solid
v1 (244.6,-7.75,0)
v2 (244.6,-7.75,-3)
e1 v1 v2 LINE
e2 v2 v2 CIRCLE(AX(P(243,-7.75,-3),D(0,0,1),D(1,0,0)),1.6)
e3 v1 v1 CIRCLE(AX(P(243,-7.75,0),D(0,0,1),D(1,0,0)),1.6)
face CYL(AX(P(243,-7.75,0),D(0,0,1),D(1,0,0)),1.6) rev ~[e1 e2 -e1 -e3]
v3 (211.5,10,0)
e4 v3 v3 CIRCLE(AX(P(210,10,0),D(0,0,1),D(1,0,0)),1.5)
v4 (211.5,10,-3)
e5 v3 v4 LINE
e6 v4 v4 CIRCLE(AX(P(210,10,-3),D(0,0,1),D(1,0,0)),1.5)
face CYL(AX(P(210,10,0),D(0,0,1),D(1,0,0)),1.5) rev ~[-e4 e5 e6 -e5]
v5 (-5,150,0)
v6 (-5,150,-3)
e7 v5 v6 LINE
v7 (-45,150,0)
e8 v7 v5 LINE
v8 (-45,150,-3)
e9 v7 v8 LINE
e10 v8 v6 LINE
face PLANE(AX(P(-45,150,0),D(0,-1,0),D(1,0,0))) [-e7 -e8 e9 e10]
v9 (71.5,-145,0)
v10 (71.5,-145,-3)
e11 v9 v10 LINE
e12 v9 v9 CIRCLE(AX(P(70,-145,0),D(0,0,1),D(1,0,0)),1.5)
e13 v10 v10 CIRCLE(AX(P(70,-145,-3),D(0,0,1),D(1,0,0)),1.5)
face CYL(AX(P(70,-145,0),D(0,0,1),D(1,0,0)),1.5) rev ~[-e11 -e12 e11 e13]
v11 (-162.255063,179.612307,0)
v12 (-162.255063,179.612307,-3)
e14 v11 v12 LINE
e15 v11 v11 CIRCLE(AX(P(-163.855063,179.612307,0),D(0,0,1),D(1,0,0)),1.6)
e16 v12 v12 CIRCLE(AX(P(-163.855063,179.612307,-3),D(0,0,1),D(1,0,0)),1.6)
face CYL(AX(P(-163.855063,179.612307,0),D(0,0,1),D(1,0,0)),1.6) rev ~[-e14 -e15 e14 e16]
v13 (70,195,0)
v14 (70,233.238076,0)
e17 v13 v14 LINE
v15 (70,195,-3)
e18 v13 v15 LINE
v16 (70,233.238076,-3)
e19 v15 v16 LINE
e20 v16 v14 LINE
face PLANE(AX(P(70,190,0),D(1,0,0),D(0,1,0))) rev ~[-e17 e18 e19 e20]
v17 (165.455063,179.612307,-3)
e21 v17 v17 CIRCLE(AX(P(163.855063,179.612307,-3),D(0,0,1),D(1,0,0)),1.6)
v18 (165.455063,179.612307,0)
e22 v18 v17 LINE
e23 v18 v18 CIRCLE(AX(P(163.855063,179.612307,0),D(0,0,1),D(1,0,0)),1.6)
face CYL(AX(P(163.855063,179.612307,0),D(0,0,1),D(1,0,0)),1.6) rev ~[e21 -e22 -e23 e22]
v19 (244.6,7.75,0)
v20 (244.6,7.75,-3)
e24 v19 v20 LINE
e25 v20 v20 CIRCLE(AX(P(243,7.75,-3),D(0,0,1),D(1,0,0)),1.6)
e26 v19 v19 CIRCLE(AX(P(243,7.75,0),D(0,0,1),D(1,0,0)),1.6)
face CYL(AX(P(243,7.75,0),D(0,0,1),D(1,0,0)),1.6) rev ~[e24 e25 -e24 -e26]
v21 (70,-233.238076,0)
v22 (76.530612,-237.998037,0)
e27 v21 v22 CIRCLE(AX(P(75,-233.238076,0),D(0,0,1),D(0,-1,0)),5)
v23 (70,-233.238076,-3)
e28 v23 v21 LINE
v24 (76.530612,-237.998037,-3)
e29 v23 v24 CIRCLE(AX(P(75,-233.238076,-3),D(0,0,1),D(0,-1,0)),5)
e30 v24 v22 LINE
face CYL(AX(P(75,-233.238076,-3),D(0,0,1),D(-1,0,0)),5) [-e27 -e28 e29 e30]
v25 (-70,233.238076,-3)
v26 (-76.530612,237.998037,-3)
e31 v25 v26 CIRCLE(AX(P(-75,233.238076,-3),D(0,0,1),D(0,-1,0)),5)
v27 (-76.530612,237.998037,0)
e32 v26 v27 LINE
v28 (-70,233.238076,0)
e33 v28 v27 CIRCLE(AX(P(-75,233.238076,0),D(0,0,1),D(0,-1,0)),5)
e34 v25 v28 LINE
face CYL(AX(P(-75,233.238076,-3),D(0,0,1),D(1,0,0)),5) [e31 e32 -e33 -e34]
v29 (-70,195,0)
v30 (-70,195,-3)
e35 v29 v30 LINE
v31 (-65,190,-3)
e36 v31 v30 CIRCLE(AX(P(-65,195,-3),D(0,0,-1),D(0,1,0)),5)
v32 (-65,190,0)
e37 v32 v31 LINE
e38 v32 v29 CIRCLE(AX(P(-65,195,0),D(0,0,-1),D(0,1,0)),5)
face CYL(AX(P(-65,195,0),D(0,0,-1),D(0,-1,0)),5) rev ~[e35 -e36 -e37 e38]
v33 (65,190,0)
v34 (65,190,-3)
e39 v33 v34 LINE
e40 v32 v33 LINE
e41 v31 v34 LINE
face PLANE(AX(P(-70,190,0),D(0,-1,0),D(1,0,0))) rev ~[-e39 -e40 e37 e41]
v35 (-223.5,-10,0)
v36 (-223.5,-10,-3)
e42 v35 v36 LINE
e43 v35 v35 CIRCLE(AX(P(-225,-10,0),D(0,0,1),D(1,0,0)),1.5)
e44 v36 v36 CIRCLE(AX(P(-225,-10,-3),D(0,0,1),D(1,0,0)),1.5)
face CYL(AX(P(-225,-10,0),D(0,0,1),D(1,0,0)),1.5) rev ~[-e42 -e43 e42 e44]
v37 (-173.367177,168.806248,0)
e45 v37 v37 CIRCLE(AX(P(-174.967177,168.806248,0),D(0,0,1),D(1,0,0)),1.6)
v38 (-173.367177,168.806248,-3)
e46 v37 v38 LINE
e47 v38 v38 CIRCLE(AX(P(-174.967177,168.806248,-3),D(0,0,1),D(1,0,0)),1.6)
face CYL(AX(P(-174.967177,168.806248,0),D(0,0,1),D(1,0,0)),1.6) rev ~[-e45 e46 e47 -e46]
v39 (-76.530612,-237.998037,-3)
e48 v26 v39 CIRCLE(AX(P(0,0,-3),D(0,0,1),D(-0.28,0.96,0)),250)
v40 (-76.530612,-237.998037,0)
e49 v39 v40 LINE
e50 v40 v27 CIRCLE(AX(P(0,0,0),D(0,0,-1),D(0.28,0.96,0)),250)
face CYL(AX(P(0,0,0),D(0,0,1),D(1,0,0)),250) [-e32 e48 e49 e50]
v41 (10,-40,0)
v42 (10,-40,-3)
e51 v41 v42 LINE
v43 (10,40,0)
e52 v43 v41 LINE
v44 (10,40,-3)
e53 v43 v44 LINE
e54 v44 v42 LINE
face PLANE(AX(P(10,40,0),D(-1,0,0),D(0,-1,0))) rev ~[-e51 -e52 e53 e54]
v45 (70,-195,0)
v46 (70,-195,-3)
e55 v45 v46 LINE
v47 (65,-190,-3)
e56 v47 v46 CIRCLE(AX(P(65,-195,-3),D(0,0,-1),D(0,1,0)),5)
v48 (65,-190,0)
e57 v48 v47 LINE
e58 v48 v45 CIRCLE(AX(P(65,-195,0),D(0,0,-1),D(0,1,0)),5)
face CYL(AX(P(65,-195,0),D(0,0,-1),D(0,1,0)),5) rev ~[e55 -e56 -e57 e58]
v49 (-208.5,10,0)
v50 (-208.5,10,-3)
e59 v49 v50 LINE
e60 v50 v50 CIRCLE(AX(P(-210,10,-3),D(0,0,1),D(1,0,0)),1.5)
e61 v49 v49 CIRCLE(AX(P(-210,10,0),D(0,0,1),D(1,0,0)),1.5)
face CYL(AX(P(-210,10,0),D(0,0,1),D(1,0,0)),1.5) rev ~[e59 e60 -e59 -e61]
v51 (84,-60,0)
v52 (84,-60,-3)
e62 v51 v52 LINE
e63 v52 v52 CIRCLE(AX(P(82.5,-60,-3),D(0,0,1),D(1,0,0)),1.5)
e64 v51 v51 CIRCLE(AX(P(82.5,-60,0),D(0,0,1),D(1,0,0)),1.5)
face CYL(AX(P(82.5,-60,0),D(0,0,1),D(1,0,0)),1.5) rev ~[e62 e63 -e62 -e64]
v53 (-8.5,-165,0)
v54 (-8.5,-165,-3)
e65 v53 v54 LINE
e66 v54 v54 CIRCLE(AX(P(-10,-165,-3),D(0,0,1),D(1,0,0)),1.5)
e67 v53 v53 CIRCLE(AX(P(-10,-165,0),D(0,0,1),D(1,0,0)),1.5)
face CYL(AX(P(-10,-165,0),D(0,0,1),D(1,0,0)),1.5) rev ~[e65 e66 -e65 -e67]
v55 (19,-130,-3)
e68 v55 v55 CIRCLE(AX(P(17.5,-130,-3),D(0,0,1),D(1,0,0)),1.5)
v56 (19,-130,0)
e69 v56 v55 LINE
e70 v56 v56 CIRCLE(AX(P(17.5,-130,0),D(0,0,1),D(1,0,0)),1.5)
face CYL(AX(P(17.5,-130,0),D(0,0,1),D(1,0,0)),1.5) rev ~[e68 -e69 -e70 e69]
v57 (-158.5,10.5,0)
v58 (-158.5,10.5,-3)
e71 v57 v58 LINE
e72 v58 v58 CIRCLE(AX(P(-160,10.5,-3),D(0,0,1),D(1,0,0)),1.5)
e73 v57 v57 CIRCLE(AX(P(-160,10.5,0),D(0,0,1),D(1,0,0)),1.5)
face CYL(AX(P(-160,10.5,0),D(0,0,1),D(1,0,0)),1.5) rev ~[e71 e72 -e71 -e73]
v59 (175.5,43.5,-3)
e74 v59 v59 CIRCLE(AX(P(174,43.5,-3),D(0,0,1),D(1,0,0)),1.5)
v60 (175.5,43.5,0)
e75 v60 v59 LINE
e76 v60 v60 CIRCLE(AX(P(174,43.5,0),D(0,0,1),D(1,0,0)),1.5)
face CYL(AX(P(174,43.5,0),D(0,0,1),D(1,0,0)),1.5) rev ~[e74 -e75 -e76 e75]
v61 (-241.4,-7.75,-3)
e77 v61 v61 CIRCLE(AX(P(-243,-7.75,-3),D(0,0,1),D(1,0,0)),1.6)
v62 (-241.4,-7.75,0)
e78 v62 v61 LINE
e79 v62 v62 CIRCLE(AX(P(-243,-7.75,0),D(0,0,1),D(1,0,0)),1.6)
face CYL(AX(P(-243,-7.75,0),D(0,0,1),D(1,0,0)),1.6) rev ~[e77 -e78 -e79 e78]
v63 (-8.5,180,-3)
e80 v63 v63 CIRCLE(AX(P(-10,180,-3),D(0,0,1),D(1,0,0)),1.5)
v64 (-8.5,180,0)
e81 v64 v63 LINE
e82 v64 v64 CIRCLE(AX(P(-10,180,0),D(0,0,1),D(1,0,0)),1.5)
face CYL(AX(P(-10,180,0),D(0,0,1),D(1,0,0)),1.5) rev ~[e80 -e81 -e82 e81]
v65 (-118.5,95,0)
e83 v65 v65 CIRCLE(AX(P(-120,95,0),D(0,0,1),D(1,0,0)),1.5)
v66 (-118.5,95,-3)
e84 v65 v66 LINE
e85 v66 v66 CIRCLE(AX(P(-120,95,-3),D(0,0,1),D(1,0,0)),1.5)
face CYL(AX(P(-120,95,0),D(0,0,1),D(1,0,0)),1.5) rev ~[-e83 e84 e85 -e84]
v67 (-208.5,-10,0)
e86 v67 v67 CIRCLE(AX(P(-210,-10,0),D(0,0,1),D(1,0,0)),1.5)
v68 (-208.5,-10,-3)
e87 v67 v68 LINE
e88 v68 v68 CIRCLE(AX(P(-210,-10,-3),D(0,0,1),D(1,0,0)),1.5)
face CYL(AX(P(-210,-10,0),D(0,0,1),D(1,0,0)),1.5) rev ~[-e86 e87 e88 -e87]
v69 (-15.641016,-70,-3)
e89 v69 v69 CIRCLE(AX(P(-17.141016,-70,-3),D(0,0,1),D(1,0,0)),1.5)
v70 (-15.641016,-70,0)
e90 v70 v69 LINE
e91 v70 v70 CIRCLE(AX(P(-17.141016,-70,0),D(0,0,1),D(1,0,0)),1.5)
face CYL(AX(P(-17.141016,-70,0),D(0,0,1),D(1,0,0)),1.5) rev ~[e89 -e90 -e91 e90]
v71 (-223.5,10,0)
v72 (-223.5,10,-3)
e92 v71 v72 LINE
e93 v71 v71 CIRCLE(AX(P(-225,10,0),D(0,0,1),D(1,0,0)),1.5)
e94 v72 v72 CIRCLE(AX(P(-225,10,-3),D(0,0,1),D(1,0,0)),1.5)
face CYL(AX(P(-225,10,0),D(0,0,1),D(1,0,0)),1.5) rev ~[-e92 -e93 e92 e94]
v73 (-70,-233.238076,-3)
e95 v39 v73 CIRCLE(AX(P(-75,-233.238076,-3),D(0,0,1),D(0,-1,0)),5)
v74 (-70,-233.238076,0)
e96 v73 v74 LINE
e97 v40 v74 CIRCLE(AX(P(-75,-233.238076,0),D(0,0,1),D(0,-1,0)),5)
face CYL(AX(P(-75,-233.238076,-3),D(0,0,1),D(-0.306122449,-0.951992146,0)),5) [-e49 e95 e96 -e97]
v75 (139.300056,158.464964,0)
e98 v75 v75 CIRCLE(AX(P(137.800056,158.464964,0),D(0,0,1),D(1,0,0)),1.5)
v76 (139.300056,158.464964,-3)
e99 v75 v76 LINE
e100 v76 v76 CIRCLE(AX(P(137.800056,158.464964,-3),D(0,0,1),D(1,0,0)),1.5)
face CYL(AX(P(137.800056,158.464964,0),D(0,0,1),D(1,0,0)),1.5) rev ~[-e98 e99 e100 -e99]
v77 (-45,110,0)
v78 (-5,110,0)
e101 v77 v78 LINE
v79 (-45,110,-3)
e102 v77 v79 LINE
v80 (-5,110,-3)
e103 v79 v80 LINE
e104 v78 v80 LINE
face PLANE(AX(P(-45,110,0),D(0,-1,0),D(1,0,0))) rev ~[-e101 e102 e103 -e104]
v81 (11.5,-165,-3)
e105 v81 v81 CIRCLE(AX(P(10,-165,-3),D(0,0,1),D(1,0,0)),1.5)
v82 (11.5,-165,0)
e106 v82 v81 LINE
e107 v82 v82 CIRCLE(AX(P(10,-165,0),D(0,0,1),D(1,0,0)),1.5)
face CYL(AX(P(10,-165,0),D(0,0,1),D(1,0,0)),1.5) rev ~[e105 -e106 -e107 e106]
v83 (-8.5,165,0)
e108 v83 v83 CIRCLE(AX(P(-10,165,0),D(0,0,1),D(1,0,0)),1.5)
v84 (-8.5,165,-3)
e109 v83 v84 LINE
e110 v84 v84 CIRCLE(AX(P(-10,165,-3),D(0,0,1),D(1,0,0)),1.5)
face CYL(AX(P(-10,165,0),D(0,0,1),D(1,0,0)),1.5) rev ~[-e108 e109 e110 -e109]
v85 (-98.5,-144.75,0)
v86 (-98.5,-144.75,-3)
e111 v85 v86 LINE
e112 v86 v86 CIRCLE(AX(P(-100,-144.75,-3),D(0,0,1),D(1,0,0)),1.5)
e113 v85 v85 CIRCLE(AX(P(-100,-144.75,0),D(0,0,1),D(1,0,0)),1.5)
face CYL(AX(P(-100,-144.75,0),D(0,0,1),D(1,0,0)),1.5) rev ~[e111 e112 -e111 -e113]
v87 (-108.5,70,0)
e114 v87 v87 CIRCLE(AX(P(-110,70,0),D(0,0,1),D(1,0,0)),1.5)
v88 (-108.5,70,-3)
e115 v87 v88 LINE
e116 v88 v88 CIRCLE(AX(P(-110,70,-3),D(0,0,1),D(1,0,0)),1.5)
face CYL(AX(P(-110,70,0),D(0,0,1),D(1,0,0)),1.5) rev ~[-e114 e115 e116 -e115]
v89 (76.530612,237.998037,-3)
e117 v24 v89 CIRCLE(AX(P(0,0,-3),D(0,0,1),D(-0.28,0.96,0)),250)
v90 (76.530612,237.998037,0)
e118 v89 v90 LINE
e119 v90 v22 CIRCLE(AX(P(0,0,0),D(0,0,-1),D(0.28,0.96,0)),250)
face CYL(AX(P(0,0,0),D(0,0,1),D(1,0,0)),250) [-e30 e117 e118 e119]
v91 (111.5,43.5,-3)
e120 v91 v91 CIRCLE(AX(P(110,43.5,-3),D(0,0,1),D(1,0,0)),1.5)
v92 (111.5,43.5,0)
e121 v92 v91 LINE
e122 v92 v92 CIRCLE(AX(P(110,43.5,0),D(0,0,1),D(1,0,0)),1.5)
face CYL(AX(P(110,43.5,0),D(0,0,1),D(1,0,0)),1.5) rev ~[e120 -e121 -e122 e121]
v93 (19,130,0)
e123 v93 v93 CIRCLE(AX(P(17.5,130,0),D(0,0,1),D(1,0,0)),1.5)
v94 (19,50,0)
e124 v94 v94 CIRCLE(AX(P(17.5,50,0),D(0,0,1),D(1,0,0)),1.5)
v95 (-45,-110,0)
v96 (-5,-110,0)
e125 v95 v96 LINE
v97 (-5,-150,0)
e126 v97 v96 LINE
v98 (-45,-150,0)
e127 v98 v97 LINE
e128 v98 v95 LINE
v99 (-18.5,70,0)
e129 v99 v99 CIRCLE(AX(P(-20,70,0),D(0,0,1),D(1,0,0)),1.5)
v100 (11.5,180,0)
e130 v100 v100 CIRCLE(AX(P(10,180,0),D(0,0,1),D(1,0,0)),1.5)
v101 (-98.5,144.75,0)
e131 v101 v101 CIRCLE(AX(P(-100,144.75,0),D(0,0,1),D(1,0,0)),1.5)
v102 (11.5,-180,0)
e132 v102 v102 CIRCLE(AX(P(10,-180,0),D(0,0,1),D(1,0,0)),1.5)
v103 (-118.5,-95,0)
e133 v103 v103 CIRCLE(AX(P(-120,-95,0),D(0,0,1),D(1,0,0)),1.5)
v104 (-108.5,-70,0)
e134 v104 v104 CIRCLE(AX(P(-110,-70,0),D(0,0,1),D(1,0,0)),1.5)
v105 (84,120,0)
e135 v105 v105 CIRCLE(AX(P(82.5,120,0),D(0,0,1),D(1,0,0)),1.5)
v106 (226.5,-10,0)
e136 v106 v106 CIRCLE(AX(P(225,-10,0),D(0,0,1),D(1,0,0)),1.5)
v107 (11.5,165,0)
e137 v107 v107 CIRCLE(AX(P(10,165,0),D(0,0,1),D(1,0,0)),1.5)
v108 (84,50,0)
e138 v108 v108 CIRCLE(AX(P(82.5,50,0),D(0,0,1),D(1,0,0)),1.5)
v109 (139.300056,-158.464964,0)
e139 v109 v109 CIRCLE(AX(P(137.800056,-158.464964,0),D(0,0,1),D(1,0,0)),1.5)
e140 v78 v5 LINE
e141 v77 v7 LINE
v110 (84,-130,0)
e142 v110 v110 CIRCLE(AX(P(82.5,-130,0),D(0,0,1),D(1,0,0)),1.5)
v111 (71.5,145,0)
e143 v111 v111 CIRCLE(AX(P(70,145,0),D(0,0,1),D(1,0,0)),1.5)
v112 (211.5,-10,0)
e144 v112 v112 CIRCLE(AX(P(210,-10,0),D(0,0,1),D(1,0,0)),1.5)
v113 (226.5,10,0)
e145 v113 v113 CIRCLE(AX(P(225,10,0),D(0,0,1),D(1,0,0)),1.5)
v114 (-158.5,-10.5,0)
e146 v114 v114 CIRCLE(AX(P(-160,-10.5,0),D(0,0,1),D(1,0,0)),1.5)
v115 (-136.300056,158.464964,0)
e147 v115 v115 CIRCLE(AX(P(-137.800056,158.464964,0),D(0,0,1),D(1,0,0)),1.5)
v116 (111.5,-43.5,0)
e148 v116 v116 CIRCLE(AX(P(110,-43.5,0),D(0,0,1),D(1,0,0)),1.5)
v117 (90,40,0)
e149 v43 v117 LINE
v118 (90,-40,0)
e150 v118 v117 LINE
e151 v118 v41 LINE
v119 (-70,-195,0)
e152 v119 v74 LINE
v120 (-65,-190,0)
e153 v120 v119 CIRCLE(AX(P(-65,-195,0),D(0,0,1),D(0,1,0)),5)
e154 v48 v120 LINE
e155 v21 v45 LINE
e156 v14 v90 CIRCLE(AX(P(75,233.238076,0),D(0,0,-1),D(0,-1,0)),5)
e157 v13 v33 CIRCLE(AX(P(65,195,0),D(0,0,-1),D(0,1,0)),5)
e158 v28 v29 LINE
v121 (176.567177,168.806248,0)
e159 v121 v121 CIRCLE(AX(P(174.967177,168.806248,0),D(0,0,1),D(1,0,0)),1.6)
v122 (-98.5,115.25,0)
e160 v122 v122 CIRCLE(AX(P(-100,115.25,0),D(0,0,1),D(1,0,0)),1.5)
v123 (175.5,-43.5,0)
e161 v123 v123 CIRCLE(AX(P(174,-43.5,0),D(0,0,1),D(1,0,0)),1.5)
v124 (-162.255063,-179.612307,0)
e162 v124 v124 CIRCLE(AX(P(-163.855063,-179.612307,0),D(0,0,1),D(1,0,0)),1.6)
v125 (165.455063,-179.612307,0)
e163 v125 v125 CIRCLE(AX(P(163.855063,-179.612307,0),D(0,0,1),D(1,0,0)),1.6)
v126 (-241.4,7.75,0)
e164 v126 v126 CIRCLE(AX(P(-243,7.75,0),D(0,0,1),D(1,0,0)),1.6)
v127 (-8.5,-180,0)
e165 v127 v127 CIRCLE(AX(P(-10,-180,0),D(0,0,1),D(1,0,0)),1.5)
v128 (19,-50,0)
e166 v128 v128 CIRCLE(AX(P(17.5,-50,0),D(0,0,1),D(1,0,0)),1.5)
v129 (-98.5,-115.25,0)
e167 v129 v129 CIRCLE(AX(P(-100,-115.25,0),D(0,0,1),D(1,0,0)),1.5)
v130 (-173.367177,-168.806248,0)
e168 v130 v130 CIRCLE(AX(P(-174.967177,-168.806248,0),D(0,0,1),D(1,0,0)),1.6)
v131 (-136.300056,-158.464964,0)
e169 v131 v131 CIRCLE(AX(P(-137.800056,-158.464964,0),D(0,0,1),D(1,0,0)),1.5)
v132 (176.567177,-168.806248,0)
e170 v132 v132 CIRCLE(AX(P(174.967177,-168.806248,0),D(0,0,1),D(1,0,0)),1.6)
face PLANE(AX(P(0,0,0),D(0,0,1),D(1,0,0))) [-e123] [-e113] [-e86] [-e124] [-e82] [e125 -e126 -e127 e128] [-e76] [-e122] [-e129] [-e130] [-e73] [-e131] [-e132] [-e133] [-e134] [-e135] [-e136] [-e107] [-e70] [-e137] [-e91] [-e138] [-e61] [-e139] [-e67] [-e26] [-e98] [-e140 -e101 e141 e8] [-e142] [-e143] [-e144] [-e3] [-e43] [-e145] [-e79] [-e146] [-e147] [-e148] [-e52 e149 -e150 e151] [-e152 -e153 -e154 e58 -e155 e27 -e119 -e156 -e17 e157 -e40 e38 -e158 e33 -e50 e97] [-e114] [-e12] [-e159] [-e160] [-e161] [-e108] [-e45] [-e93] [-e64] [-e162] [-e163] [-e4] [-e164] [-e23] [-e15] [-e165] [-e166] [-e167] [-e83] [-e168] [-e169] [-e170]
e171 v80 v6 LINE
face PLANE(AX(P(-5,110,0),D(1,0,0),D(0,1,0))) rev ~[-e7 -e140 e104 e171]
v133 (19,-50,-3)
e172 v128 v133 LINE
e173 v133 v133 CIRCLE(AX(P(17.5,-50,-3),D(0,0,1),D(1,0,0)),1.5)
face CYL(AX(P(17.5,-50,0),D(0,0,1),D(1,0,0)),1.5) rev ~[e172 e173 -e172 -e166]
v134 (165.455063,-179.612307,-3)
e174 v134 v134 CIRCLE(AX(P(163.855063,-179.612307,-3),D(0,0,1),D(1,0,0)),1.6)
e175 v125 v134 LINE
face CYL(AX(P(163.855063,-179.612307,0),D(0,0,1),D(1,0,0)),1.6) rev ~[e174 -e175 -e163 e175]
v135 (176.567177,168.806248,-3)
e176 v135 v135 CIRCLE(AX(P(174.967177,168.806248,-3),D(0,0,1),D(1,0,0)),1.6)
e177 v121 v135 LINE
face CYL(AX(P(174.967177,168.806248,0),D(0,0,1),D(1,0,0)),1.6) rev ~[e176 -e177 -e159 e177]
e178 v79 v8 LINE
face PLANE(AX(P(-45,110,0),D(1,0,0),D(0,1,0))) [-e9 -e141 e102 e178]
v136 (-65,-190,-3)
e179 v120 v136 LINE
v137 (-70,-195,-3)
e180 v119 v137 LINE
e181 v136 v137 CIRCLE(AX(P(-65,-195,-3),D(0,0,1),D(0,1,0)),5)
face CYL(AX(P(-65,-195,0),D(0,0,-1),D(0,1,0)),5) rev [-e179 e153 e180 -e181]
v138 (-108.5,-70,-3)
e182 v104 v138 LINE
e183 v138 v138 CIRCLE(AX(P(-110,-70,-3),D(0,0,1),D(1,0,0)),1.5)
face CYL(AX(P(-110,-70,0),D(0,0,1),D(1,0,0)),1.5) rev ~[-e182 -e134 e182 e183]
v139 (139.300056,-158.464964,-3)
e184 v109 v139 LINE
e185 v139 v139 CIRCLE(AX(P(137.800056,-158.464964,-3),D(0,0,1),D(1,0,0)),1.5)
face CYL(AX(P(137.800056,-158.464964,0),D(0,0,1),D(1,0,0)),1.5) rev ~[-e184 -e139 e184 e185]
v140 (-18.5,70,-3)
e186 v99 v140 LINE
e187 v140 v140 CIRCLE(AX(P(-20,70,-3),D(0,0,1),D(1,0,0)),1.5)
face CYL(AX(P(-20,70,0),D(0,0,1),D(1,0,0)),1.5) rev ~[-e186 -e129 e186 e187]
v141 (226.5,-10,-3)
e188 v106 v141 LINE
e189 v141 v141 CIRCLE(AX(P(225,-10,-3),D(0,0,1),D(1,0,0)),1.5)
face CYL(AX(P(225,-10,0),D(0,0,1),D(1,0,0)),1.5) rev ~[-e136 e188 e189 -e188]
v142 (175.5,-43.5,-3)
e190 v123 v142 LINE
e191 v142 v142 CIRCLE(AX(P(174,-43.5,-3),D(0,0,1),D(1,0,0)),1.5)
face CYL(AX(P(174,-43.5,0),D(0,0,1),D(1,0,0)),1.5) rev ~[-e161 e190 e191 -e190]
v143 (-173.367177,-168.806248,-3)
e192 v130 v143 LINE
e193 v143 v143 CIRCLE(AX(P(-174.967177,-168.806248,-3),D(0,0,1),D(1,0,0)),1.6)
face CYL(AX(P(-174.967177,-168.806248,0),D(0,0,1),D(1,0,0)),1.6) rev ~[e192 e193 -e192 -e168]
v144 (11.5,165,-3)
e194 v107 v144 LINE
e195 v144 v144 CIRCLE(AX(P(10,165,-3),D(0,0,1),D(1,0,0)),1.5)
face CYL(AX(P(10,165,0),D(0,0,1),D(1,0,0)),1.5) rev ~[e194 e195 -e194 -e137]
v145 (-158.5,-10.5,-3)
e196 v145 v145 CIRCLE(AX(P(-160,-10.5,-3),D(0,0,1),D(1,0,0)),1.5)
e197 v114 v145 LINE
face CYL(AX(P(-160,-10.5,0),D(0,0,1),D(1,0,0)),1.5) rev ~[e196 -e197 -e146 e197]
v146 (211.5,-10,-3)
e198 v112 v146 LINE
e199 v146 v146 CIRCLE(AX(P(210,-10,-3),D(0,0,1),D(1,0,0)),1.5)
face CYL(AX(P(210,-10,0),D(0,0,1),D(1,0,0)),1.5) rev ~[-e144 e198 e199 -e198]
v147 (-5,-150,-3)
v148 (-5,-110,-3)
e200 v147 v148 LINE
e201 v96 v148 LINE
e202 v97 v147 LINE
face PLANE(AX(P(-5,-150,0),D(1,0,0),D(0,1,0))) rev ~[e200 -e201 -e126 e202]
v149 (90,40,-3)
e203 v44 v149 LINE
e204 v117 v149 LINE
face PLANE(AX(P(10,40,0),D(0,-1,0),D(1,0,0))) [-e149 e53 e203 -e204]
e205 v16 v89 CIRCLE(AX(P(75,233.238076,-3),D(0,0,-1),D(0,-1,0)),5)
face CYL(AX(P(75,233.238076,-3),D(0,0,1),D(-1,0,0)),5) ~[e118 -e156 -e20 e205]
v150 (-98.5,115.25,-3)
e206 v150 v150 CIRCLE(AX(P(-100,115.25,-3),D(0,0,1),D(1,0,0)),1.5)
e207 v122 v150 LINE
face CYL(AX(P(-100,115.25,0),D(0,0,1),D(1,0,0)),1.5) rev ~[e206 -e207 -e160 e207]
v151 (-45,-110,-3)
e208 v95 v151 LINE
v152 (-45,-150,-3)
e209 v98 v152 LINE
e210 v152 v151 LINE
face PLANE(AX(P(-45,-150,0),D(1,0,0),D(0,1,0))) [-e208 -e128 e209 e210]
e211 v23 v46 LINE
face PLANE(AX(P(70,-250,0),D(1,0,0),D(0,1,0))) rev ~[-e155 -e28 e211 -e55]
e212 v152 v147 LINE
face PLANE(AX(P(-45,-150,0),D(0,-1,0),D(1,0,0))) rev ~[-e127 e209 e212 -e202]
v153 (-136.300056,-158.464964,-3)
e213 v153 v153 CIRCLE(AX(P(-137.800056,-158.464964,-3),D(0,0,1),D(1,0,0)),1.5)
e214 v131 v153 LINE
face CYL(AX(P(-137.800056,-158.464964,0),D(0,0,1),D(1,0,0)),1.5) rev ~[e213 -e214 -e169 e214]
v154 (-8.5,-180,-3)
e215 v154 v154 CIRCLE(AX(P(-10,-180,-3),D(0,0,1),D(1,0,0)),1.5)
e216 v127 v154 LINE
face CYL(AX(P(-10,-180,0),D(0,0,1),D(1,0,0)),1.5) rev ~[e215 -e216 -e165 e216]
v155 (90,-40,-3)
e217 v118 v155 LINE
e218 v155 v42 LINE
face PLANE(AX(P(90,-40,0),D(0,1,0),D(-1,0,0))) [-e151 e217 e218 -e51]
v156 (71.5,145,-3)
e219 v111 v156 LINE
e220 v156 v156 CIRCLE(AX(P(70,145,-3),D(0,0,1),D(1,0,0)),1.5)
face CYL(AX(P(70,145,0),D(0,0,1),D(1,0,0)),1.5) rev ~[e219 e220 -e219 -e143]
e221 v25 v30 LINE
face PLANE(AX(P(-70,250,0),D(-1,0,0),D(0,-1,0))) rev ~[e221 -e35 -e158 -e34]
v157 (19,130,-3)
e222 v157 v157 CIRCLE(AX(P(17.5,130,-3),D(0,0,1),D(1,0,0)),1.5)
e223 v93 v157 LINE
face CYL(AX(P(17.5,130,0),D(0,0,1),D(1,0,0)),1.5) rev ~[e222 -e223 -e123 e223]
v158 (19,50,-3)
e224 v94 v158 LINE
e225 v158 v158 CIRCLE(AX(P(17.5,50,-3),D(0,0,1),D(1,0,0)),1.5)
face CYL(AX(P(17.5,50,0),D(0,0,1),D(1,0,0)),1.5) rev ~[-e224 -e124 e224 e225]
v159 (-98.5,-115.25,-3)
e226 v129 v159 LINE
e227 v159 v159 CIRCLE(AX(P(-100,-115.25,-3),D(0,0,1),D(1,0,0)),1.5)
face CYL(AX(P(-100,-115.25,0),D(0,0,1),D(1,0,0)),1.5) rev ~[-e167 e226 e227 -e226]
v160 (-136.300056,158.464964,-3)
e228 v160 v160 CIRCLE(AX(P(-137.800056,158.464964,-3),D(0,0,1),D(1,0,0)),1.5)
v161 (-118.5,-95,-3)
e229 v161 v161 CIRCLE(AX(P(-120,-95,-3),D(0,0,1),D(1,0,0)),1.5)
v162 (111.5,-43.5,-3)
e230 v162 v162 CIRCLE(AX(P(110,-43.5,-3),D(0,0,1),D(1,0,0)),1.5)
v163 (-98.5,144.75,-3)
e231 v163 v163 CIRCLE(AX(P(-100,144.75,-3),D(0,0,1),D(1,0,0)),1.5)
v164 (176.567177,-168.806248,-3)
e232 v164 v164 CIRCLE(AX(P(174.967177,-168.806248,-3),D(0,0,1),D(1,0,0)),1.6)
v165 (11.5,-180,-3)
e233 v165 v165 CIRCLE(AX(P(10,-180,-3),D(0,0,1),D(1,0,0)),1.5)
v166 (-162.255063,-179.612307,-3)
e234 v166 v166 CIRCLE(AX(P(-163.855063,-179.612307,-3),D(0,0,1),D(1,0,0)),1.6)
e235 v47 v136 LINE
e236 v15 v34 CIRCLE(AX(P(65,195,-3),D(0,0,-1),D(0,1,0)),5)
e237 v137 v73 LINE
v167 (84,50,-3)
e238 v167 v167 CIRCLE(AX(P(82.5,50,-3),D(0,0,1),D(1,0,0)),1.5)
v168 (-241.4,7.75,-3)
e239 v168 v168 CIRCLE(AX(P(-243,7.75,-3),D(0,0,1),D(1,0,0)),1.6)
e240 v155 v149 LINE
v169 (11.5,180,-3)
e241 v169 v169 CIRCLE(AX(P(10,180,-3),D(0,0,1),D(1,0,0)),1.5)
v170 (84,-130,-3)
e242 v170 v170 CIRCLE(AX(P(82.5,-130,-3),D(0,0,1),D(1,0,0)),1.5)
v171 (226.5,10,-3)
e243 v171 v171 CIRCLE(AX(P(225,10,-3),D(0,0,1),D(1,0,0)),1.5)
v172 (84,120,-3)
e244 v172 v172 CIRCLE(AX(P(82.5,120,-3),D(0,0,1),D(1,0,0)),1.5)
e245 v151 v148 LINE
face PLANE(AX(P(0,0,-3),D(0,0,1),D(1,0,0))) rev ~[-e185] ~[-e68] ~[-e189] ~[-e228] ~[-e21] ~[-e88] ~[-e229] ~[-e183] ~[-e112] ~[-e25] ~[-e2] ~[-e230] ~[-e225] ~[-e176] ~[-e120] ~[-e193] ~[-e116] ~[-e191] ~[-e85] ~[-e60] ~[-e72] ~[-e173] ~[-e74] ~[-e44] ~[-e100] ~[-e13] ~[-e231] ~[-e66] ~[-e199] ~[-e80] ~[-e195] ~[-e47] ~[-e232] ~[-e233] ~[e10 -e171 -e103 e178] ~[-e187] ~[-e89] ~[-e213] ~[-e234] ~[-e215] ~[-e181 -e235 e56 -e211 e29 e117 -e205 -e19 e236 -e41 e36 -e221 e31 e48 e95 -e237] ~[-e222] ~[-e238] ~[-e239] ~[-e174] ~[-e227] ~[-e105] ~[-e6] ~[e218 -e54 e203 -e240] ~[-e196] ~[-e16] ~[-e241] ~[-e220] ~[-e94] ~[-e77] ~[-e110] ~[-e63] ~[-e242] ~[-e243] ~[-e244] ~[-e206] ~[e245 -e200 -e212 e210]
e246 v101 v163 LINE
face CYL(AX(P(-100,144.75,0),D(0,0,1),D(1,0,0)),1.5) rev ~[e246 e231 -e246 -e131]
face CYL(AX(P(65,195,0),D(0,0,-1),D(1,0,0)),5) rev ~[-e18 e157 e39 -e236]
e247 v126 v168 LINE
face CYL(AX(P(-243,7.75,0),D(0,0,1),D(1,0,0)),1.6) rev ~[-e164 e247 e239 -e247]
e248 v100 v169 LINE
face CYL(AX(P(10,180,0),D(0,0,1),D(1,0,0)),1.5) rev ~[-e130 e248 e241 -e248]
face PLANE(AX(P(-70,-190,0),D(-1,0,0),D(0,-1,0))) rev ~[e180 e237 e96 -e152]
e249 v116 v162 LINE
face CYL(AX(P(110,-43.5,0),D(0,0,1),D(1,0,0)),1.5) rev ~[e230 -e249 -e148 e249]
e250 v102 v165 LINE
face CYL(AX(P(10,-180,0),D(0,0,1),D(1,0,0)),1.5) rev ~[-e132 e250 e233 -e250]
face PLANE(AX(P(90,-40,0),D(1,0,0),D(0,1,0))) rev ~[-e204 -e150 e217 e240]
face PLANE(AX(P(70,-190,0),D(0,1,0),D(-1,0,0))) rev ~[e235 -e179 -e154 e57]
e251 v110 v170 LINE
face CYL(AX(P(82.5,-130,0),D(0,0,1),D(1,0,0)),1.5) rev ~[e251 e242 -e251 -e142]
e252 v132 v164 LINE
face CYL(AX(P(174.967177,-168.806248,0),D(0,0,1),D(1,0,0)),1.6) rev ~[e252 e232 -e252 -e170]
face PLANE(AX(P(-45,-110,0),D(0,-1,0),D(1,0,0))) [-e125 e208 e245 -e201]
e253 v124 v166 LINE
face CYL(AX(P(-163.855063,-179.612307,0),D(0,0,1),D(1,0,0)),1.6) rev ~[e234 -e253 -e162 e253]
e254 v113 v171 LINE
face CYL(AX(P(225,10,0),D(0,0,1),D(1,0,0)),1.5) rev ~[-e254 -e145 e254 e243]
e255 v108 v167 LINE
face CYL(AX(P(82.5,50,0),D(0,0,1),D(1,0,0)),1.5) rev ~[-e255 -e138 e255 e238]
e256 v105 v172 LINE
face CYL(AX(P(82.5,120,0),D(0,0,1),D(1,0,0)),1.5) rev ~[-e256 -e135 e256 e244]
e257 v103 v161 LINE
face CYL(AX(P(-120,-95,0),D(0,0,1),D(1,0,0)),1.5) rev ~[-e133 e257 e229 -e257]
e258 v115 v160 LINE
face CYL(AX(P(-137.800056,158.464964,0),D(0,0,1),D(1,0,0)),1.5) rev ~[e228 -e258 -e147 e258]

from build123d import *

# Parameters (mm, degrees)
SKETCH_1_R           = 250
EXTRUDE_1_DEPTH      = 3
CUT_EXTRUDE_1_DEPTH  = 4
CUT_EXTRUDE_2_DEPTH  = 4
FILLET_1_R           = 5
FILLET_2_R           = 5
FILLET_3_R           = 5
FILLET_4_R           = 5
FILLET_5_R           = 5
FILLET_6_R           = 5
FILLET_7_R           = 5
FILLET_8_R           = 5
SKETCH_18_R          = 1.5
CUT_EXTRUDE_10_DEPTH = 4
SKETCH_19_R          = 1.5
CUT_EXTRUDE_11_DEPTH = 3
SKETCH_20_R          = 1.6
CUT_EXTRUDE_12_DEPTH = 4
SKETCH_24_R          = 1.5
CUT_EXTRUDE_14_DEPTH = 4
SKETCH_25_R          = 1.5
CUT_EXTRUDE_15_DEPTH = 4
SKETCH_21_R          = 1.5
CUT_EXTRUDE_16_DEPTH = 4
SKETCH_26_R          = 1.6
CUT_EXTRUDE_17_DEPTH = 4
SKETCH_27_R          = 1.5
CUT_EXTRUDE_18_DEPTH = 4
SKETCH_28_R          = 1.5
CUT_EXTRUDE_19_DEPTH = 4
SKETCH_29_W          = 40
SKETCH_29_H          = 40
CUT_EXTRUDE_20_DEPTH = 4
SKETCH_30_R          = 1.5
CUT_EXTRUDE_21_DEPTH = 4
SKETCH_31_R          = 1.5
CUT_EXTRUDE_22_DEPTH = 4
SKETCH_32_R          = 1.5
CUT_EXTRUDE_23_DEPTH = 4


with BuildPart() as part:
    # ｽｹｯﾁ1 → ﾎﾞｽ - 押し出し1 (new body)
    with BuildSketch(Plane.XY):
        Circle(SKETCH_1_R)
    extrude(amount=-EXTRUDE_1_DEPTH)

    # ｽｹｯﾁ2 → ｶｯﾄ - 押し出し1 (cut, through all)
    with BuildSketch(Plane.XY):
        Polygon((0, 190), (70, 190), (70, 250), (0, 250), (-70, 250), (-70, 190), align=None)
    extrude(amount=-CUT_EXTRUDE_1_DEPTH, mode=Mode.SUBTRACT)

    # ｽｹｯﾁ3 → ｶｯﾄ - 押し出し2 (cut, through all)
    with BuildSketch(Plane.XY):
        Polygon((0, -250), (70, -250), (70, -190), (0, -190), (-70, -190), (-70, -250), align=None)
    extrude(amount=-CUT_EXTRUDE_2_DEPTH, mode=Mode.SUBTRACT)

    # ﾌｨﾚｯﾄ1
    fillet_1_edges = [part.edges().sort_by_distance(p)[0] for p in [
        (-70, 240, -1.5),
    ]]
    fillet(fillet_1_edges, radius=FILLET_1_R)

    # ﾌｨﾚｯﾄ2
    fillet_2_edges = [part.edges().sort_by_distance(p)[0] for p in [
        (70, 240, -1.5),
    ]]
    fillet(fillet_2_edges, radius=FILLET_2_R)

    # ﾌｨﾚｯﾄ3
    fillet_3_edges = [part.edges().sort_by_distance(p)[0] for p in [
        (70, 190, -1.5),
    ]]
    fillet(fillet_3_edges, radius=FILLET_3_R)

    # ﾌｨﾚｯﾄ4
    fillet_4_edges = [part.edges().sort_by_distance(p)[0] for p in [
        (-70, 190, -1.5),
    ]]
    fillet(fillet_4_edges, radius=FILLET_4_R)

    # ﾌｨﾚｯﾄ5
    fillet_5_edges = [part.edges().sort_by_distance(p)[0] for p in [
        (-70, -240, -1.5),
    ]]
    fillet(fillet_5_edges, radius=FILLET_5_R)

    # ﾌｨﾚｯﾄ6
    fillet_6_edges = [part.edges().sort_by_distance(p)[0] for p in [
        (70, -190, -1.5),
    ]]
    fillet(fillet_6_edges, radius=FILLET_6_R)

    # ﾌｨﾚｯﾄ7
    fillet_7_edges = [part.edges().sort_by_distance(p)[0] for p in [
        (70, -240, -1.5),
    ]]
    fillet(fillet_7_edges, radius=FILLET_7_R)

    # ﾌｨﾚｯﾄ8
    fillet_8_edges = [part.edges().sort_by_distance(p)[0] for p in [
        (-70, -190, -1.5),
    ]]
    fillet(fillet_8_edges, radius=FILLET_8_R)

    # ｽｹｯﾁ18 → ｶｯﾄ - 押し出し10 (cut, through all)
    with BuildSketch(Plane.XY):
        with Locations((-100, 144.75)):
            Circle(SKETCH_18_R)
        with Locations((-100, 115.25)):
            Circle(SKETCH_18_R)
        with Locations((-100, -115.25)):
            Circle(SKETCH_18_R)
        with Locations((-100, -144.75)):
            Circle(SKETCH_18_R)
    extrude(amount=-CUT_EXTRUDE_10_DEPTH, mode=Mode.SUBTRACT)

    # ｽｹｯﾁ19 → ｶｯﾄ - 押し出し11 (cut)
    with BuildSketch(Plane.XY):
        with Locations((-160, 10.5)):
            Circle(SKETCH_19_R)
        with Locations((-160, -10.5)):
            Circle(SKETCH_19_R)
    extrude(amount=-CUT_EXTRUDE_11_DEPTH, mode=Mode.SUBTRACT)

    # ｽｹｯﾁ20 → ｶｯﾄ - 押し出し12 (cut, through all)
    with BuildSketch(Plane.XY):
        with Locations((-243, 7.75)):
            Circle(SKETCH_20_R)
        with Locations((-243, -7.75)):
            Circle(SKETCH_20_R)
        with Locations((-163.855062784, 179.612307206)):
            Circle(SKETCH_20_R)
        with Locations((-174.967177203, 168.806248112)):
            Circle(SKETCH_20_R)
        with Locations((-163.855062784, -179.612307206)):
            Circle(SKETCH_20_R)
        with Locations((-174.967177203, -168.806248112)):
            Circle(SKETCH_20_R)
    extrude(amount=-CUT_EXTRUDE_12_DEPTH, mode=Mode.SUBTRACT)

    # ｽｹｯﾁ24 → ｶｯﾄ - 押し出し14 (cut, through all)
    with BuildSketch(Plane.XY):
        with Locations((225, 10)):
            Circle(SKETCH_24_R)
        with Locations((225, -10)):
            Circle(SKETCH_24_R)
        with Locations((210, -10)):
            Circle(SKETCH_24_R)
        with Locations((210, 10)):
            Circle(SKETCH_24_R)
    extrude(amount=-CUT_EXTRUDE_14_DEPTH, mode=Mode.SUBTRACT)

    # ｽｹｯﾁ25 → ｶｯﾄ - 押し出し15 (cut, through all)
    with BuildSketch(Plane.XY):
        with Locations((-225, 10)):
            Circle(SKETCH_25_R)
        with Locations((-225, -10)):
            Circle(SKETCH_25_R)
        with Locations((-210, -10)):
            Circle(SKETCH_25_R)
        with Locations((-210, 10)):
            Circle(SKETCH_25_R)
    extrude(amount=-CUT_EXTRUDE_15_DEPTH, mode=Mode.SUBTRACT)

    # ｽｹｯﾁ21 → ｶｯﾄ - 押し出し16 (cut, through all)
    with BuildSketch(Plane.XY):
        with Locations((137.80005554, 158.464963614)):
            Circle(SKETCH_21_R)
        with Locations((137.80005554, -158.464963614)):
            Circle(SKETCH_21_R)
        with Locations((-137.80005554, -158.464963614)):
            Circle(SKETCH_21_R)
        with Locations((-137.80005554, 158.464963614)):
            Circle(SKETCH_21_R)
    extrude(amount=-CUT_EXTRUDE_16_DEPTH, mode=Mode.SUBTRACT)

    # ｽｹｯﾁ26 → ｶｯﾄ - 押し出し17 (cut, through all)
    with BuildSketch(Plane.XY):
        with Locations((174.967177203, -168.806248112)):
            Circle(SKETCH_26_R)
        with Locations((163.855062784, -179.612307206)):
            Circle(SKETCH_26_R)
        with Locations((243, -7.75)):
            Circle(SKETCH_26_R)
        with Locations((243, 7.75)):
            Circle(SKETCH_26_R)
        with Locations((174.967177203, 168.806248112)):
            Circle(SKETCH_26_R)
        with Locations((163.855062784, 179.612307206)):
            Circle(SKETCH_26_R)
    extrude(amount=-CUT_EXTRUDE_17_DEPTH, mode=Mode.SUBTRACT)

    # ｽｹｯﾁ27 → ｶｯﾄ - 押し出し18 (cut, through all)
    with BuildSketch(Plane.XY):
        with Locations((-10, 180)):
            Circle(SKETCH_27_R)
        with Locations((10, 180)):
            Circle(SKETCH_27_R)
        with Locations((10, 165)):
            Circle(SKETCH_27_R)
        with Locations((-10, 165)):
            Circle(SKETCH_27_R)
        with Locations((10, -180)):
            Circle(SKETCH_27_R)
        with Locations((10, -165)):
            Circle(SKETCH_27_R)
        with Locations((-10, -165)):
            Circle(SKETCH_27_R)
        with Locations((-10, -180)):
            Circle(SKETCH_27_R)
    extrude(amount=-CUT_EXTRUDE_18_DEPTH, mode=Mode.SUBTRACT)

    # ｽｹｯﾁ28 → ｶｯﾄ - 押し出し19 (cut, through all)
    with BuildSketch(Plane.XY):
        with Locations((17.5, 130)):
            Circle(SKETCH_28_R)
        with Locations((82.5, 120)):
            Circle(SKETCH_28_R)
        with Locations((17.5, 50)):
            Circle(SKETCH_28_R)
        with Locations((82.5, 50)):
            Circle(SKETCH_28_R)
        with Locations((17.5, -50)):
            Circle(SKETCH_28_R)
        with Locations((82.5, -60)):
            Circle(SKETCH_28_R)
        with Locations((17.5, -130)):
            Circle(SKETCH_28_R)
        with Locations((82.5, -130)):
            Circle(SKETCH_28_R)
        Polygon((10, 40), (90, 40), (90, 0), (90, -40), (10, -40), (10, 1.027968607), align=None)
    extrude(amount=-CUT_EXTRUDE_19_DEPTH, mode=Mode.SUBTRACT)

    # ｽｹｯﾁ29 → ｶｯﾄ - 押し出し20 (cut, through all)
    with BuildSketch(Plane.XY):
        with Locations((-25, -130)):
            Rectangle(SKETCH_29_W, SKETCH_29_H)
        with Locations((-25, 130)):
            Rectangle(SKETCH_29_W, SKETCH_29_H)
    extrude(amount=-CUT_EXTRUDE_20_DEPTH, mode=Mode.SUBTRACT)

    # ｽｹｯﾁ30 → ｶｯﾄ - 押し出し21 (cut, through all)
    with BuildSketch(Plane.XY):
        with Locations((110, 43.5)):
            Circle(SKETCH_30_R)
        with Locations((174, 43.5)):
            Circle(SKETCH_30_R)
        with Locations((110, -43.5)):
            Circle(SKETCH_30_R)
        with Locations((174, -43.5)):
            Circle(SKETCH_30_R)
    extrude(amount=-CUT_EXTRUDE_21_DEPTH, mode=Mode.SUBTRACT)

    # ｽｹｯﾁ31 → ｶｯﾄ - 押し出し22 (cut, through all)
    with BuildSketch(Plane.XY):
        with Locations((-20, 70)):
            Circle(SKETCH_31_R)
        with Locations((-110, 70)):
            Circle(SKETCH_31_R)
        with Locations((-110, -70)):
            Circle(SKETCH_31_R)
        with Locations((-17.141016151, -70)):
            Circle(SKETCH_31_R)
    extrude(amount=-CUT_EXTRUDE_22_DEPTH, mode=Mode.SUBTRACT)

    # ｽｹｯﾁ32 → ｶｯﾄ - 押し出し23 (cut, through all)
    with BuildSketch(Plane.XY):
        with Locations((-120, 95)):
            Circle(SKETCH_32_R)
        with Locations((-120, -95)):
            Circle(SKETCH_32_R)
        with Locations((70, 145)):
            Circle(SKETCH_32_R)
        with Locations((70, -145)):
            Circle(SKETCH_32_R)
    extrude(amount=-CUT_EXTRUDE_23_DEPTH, mode=Mode.SUBTRACT)


solid = part.part
